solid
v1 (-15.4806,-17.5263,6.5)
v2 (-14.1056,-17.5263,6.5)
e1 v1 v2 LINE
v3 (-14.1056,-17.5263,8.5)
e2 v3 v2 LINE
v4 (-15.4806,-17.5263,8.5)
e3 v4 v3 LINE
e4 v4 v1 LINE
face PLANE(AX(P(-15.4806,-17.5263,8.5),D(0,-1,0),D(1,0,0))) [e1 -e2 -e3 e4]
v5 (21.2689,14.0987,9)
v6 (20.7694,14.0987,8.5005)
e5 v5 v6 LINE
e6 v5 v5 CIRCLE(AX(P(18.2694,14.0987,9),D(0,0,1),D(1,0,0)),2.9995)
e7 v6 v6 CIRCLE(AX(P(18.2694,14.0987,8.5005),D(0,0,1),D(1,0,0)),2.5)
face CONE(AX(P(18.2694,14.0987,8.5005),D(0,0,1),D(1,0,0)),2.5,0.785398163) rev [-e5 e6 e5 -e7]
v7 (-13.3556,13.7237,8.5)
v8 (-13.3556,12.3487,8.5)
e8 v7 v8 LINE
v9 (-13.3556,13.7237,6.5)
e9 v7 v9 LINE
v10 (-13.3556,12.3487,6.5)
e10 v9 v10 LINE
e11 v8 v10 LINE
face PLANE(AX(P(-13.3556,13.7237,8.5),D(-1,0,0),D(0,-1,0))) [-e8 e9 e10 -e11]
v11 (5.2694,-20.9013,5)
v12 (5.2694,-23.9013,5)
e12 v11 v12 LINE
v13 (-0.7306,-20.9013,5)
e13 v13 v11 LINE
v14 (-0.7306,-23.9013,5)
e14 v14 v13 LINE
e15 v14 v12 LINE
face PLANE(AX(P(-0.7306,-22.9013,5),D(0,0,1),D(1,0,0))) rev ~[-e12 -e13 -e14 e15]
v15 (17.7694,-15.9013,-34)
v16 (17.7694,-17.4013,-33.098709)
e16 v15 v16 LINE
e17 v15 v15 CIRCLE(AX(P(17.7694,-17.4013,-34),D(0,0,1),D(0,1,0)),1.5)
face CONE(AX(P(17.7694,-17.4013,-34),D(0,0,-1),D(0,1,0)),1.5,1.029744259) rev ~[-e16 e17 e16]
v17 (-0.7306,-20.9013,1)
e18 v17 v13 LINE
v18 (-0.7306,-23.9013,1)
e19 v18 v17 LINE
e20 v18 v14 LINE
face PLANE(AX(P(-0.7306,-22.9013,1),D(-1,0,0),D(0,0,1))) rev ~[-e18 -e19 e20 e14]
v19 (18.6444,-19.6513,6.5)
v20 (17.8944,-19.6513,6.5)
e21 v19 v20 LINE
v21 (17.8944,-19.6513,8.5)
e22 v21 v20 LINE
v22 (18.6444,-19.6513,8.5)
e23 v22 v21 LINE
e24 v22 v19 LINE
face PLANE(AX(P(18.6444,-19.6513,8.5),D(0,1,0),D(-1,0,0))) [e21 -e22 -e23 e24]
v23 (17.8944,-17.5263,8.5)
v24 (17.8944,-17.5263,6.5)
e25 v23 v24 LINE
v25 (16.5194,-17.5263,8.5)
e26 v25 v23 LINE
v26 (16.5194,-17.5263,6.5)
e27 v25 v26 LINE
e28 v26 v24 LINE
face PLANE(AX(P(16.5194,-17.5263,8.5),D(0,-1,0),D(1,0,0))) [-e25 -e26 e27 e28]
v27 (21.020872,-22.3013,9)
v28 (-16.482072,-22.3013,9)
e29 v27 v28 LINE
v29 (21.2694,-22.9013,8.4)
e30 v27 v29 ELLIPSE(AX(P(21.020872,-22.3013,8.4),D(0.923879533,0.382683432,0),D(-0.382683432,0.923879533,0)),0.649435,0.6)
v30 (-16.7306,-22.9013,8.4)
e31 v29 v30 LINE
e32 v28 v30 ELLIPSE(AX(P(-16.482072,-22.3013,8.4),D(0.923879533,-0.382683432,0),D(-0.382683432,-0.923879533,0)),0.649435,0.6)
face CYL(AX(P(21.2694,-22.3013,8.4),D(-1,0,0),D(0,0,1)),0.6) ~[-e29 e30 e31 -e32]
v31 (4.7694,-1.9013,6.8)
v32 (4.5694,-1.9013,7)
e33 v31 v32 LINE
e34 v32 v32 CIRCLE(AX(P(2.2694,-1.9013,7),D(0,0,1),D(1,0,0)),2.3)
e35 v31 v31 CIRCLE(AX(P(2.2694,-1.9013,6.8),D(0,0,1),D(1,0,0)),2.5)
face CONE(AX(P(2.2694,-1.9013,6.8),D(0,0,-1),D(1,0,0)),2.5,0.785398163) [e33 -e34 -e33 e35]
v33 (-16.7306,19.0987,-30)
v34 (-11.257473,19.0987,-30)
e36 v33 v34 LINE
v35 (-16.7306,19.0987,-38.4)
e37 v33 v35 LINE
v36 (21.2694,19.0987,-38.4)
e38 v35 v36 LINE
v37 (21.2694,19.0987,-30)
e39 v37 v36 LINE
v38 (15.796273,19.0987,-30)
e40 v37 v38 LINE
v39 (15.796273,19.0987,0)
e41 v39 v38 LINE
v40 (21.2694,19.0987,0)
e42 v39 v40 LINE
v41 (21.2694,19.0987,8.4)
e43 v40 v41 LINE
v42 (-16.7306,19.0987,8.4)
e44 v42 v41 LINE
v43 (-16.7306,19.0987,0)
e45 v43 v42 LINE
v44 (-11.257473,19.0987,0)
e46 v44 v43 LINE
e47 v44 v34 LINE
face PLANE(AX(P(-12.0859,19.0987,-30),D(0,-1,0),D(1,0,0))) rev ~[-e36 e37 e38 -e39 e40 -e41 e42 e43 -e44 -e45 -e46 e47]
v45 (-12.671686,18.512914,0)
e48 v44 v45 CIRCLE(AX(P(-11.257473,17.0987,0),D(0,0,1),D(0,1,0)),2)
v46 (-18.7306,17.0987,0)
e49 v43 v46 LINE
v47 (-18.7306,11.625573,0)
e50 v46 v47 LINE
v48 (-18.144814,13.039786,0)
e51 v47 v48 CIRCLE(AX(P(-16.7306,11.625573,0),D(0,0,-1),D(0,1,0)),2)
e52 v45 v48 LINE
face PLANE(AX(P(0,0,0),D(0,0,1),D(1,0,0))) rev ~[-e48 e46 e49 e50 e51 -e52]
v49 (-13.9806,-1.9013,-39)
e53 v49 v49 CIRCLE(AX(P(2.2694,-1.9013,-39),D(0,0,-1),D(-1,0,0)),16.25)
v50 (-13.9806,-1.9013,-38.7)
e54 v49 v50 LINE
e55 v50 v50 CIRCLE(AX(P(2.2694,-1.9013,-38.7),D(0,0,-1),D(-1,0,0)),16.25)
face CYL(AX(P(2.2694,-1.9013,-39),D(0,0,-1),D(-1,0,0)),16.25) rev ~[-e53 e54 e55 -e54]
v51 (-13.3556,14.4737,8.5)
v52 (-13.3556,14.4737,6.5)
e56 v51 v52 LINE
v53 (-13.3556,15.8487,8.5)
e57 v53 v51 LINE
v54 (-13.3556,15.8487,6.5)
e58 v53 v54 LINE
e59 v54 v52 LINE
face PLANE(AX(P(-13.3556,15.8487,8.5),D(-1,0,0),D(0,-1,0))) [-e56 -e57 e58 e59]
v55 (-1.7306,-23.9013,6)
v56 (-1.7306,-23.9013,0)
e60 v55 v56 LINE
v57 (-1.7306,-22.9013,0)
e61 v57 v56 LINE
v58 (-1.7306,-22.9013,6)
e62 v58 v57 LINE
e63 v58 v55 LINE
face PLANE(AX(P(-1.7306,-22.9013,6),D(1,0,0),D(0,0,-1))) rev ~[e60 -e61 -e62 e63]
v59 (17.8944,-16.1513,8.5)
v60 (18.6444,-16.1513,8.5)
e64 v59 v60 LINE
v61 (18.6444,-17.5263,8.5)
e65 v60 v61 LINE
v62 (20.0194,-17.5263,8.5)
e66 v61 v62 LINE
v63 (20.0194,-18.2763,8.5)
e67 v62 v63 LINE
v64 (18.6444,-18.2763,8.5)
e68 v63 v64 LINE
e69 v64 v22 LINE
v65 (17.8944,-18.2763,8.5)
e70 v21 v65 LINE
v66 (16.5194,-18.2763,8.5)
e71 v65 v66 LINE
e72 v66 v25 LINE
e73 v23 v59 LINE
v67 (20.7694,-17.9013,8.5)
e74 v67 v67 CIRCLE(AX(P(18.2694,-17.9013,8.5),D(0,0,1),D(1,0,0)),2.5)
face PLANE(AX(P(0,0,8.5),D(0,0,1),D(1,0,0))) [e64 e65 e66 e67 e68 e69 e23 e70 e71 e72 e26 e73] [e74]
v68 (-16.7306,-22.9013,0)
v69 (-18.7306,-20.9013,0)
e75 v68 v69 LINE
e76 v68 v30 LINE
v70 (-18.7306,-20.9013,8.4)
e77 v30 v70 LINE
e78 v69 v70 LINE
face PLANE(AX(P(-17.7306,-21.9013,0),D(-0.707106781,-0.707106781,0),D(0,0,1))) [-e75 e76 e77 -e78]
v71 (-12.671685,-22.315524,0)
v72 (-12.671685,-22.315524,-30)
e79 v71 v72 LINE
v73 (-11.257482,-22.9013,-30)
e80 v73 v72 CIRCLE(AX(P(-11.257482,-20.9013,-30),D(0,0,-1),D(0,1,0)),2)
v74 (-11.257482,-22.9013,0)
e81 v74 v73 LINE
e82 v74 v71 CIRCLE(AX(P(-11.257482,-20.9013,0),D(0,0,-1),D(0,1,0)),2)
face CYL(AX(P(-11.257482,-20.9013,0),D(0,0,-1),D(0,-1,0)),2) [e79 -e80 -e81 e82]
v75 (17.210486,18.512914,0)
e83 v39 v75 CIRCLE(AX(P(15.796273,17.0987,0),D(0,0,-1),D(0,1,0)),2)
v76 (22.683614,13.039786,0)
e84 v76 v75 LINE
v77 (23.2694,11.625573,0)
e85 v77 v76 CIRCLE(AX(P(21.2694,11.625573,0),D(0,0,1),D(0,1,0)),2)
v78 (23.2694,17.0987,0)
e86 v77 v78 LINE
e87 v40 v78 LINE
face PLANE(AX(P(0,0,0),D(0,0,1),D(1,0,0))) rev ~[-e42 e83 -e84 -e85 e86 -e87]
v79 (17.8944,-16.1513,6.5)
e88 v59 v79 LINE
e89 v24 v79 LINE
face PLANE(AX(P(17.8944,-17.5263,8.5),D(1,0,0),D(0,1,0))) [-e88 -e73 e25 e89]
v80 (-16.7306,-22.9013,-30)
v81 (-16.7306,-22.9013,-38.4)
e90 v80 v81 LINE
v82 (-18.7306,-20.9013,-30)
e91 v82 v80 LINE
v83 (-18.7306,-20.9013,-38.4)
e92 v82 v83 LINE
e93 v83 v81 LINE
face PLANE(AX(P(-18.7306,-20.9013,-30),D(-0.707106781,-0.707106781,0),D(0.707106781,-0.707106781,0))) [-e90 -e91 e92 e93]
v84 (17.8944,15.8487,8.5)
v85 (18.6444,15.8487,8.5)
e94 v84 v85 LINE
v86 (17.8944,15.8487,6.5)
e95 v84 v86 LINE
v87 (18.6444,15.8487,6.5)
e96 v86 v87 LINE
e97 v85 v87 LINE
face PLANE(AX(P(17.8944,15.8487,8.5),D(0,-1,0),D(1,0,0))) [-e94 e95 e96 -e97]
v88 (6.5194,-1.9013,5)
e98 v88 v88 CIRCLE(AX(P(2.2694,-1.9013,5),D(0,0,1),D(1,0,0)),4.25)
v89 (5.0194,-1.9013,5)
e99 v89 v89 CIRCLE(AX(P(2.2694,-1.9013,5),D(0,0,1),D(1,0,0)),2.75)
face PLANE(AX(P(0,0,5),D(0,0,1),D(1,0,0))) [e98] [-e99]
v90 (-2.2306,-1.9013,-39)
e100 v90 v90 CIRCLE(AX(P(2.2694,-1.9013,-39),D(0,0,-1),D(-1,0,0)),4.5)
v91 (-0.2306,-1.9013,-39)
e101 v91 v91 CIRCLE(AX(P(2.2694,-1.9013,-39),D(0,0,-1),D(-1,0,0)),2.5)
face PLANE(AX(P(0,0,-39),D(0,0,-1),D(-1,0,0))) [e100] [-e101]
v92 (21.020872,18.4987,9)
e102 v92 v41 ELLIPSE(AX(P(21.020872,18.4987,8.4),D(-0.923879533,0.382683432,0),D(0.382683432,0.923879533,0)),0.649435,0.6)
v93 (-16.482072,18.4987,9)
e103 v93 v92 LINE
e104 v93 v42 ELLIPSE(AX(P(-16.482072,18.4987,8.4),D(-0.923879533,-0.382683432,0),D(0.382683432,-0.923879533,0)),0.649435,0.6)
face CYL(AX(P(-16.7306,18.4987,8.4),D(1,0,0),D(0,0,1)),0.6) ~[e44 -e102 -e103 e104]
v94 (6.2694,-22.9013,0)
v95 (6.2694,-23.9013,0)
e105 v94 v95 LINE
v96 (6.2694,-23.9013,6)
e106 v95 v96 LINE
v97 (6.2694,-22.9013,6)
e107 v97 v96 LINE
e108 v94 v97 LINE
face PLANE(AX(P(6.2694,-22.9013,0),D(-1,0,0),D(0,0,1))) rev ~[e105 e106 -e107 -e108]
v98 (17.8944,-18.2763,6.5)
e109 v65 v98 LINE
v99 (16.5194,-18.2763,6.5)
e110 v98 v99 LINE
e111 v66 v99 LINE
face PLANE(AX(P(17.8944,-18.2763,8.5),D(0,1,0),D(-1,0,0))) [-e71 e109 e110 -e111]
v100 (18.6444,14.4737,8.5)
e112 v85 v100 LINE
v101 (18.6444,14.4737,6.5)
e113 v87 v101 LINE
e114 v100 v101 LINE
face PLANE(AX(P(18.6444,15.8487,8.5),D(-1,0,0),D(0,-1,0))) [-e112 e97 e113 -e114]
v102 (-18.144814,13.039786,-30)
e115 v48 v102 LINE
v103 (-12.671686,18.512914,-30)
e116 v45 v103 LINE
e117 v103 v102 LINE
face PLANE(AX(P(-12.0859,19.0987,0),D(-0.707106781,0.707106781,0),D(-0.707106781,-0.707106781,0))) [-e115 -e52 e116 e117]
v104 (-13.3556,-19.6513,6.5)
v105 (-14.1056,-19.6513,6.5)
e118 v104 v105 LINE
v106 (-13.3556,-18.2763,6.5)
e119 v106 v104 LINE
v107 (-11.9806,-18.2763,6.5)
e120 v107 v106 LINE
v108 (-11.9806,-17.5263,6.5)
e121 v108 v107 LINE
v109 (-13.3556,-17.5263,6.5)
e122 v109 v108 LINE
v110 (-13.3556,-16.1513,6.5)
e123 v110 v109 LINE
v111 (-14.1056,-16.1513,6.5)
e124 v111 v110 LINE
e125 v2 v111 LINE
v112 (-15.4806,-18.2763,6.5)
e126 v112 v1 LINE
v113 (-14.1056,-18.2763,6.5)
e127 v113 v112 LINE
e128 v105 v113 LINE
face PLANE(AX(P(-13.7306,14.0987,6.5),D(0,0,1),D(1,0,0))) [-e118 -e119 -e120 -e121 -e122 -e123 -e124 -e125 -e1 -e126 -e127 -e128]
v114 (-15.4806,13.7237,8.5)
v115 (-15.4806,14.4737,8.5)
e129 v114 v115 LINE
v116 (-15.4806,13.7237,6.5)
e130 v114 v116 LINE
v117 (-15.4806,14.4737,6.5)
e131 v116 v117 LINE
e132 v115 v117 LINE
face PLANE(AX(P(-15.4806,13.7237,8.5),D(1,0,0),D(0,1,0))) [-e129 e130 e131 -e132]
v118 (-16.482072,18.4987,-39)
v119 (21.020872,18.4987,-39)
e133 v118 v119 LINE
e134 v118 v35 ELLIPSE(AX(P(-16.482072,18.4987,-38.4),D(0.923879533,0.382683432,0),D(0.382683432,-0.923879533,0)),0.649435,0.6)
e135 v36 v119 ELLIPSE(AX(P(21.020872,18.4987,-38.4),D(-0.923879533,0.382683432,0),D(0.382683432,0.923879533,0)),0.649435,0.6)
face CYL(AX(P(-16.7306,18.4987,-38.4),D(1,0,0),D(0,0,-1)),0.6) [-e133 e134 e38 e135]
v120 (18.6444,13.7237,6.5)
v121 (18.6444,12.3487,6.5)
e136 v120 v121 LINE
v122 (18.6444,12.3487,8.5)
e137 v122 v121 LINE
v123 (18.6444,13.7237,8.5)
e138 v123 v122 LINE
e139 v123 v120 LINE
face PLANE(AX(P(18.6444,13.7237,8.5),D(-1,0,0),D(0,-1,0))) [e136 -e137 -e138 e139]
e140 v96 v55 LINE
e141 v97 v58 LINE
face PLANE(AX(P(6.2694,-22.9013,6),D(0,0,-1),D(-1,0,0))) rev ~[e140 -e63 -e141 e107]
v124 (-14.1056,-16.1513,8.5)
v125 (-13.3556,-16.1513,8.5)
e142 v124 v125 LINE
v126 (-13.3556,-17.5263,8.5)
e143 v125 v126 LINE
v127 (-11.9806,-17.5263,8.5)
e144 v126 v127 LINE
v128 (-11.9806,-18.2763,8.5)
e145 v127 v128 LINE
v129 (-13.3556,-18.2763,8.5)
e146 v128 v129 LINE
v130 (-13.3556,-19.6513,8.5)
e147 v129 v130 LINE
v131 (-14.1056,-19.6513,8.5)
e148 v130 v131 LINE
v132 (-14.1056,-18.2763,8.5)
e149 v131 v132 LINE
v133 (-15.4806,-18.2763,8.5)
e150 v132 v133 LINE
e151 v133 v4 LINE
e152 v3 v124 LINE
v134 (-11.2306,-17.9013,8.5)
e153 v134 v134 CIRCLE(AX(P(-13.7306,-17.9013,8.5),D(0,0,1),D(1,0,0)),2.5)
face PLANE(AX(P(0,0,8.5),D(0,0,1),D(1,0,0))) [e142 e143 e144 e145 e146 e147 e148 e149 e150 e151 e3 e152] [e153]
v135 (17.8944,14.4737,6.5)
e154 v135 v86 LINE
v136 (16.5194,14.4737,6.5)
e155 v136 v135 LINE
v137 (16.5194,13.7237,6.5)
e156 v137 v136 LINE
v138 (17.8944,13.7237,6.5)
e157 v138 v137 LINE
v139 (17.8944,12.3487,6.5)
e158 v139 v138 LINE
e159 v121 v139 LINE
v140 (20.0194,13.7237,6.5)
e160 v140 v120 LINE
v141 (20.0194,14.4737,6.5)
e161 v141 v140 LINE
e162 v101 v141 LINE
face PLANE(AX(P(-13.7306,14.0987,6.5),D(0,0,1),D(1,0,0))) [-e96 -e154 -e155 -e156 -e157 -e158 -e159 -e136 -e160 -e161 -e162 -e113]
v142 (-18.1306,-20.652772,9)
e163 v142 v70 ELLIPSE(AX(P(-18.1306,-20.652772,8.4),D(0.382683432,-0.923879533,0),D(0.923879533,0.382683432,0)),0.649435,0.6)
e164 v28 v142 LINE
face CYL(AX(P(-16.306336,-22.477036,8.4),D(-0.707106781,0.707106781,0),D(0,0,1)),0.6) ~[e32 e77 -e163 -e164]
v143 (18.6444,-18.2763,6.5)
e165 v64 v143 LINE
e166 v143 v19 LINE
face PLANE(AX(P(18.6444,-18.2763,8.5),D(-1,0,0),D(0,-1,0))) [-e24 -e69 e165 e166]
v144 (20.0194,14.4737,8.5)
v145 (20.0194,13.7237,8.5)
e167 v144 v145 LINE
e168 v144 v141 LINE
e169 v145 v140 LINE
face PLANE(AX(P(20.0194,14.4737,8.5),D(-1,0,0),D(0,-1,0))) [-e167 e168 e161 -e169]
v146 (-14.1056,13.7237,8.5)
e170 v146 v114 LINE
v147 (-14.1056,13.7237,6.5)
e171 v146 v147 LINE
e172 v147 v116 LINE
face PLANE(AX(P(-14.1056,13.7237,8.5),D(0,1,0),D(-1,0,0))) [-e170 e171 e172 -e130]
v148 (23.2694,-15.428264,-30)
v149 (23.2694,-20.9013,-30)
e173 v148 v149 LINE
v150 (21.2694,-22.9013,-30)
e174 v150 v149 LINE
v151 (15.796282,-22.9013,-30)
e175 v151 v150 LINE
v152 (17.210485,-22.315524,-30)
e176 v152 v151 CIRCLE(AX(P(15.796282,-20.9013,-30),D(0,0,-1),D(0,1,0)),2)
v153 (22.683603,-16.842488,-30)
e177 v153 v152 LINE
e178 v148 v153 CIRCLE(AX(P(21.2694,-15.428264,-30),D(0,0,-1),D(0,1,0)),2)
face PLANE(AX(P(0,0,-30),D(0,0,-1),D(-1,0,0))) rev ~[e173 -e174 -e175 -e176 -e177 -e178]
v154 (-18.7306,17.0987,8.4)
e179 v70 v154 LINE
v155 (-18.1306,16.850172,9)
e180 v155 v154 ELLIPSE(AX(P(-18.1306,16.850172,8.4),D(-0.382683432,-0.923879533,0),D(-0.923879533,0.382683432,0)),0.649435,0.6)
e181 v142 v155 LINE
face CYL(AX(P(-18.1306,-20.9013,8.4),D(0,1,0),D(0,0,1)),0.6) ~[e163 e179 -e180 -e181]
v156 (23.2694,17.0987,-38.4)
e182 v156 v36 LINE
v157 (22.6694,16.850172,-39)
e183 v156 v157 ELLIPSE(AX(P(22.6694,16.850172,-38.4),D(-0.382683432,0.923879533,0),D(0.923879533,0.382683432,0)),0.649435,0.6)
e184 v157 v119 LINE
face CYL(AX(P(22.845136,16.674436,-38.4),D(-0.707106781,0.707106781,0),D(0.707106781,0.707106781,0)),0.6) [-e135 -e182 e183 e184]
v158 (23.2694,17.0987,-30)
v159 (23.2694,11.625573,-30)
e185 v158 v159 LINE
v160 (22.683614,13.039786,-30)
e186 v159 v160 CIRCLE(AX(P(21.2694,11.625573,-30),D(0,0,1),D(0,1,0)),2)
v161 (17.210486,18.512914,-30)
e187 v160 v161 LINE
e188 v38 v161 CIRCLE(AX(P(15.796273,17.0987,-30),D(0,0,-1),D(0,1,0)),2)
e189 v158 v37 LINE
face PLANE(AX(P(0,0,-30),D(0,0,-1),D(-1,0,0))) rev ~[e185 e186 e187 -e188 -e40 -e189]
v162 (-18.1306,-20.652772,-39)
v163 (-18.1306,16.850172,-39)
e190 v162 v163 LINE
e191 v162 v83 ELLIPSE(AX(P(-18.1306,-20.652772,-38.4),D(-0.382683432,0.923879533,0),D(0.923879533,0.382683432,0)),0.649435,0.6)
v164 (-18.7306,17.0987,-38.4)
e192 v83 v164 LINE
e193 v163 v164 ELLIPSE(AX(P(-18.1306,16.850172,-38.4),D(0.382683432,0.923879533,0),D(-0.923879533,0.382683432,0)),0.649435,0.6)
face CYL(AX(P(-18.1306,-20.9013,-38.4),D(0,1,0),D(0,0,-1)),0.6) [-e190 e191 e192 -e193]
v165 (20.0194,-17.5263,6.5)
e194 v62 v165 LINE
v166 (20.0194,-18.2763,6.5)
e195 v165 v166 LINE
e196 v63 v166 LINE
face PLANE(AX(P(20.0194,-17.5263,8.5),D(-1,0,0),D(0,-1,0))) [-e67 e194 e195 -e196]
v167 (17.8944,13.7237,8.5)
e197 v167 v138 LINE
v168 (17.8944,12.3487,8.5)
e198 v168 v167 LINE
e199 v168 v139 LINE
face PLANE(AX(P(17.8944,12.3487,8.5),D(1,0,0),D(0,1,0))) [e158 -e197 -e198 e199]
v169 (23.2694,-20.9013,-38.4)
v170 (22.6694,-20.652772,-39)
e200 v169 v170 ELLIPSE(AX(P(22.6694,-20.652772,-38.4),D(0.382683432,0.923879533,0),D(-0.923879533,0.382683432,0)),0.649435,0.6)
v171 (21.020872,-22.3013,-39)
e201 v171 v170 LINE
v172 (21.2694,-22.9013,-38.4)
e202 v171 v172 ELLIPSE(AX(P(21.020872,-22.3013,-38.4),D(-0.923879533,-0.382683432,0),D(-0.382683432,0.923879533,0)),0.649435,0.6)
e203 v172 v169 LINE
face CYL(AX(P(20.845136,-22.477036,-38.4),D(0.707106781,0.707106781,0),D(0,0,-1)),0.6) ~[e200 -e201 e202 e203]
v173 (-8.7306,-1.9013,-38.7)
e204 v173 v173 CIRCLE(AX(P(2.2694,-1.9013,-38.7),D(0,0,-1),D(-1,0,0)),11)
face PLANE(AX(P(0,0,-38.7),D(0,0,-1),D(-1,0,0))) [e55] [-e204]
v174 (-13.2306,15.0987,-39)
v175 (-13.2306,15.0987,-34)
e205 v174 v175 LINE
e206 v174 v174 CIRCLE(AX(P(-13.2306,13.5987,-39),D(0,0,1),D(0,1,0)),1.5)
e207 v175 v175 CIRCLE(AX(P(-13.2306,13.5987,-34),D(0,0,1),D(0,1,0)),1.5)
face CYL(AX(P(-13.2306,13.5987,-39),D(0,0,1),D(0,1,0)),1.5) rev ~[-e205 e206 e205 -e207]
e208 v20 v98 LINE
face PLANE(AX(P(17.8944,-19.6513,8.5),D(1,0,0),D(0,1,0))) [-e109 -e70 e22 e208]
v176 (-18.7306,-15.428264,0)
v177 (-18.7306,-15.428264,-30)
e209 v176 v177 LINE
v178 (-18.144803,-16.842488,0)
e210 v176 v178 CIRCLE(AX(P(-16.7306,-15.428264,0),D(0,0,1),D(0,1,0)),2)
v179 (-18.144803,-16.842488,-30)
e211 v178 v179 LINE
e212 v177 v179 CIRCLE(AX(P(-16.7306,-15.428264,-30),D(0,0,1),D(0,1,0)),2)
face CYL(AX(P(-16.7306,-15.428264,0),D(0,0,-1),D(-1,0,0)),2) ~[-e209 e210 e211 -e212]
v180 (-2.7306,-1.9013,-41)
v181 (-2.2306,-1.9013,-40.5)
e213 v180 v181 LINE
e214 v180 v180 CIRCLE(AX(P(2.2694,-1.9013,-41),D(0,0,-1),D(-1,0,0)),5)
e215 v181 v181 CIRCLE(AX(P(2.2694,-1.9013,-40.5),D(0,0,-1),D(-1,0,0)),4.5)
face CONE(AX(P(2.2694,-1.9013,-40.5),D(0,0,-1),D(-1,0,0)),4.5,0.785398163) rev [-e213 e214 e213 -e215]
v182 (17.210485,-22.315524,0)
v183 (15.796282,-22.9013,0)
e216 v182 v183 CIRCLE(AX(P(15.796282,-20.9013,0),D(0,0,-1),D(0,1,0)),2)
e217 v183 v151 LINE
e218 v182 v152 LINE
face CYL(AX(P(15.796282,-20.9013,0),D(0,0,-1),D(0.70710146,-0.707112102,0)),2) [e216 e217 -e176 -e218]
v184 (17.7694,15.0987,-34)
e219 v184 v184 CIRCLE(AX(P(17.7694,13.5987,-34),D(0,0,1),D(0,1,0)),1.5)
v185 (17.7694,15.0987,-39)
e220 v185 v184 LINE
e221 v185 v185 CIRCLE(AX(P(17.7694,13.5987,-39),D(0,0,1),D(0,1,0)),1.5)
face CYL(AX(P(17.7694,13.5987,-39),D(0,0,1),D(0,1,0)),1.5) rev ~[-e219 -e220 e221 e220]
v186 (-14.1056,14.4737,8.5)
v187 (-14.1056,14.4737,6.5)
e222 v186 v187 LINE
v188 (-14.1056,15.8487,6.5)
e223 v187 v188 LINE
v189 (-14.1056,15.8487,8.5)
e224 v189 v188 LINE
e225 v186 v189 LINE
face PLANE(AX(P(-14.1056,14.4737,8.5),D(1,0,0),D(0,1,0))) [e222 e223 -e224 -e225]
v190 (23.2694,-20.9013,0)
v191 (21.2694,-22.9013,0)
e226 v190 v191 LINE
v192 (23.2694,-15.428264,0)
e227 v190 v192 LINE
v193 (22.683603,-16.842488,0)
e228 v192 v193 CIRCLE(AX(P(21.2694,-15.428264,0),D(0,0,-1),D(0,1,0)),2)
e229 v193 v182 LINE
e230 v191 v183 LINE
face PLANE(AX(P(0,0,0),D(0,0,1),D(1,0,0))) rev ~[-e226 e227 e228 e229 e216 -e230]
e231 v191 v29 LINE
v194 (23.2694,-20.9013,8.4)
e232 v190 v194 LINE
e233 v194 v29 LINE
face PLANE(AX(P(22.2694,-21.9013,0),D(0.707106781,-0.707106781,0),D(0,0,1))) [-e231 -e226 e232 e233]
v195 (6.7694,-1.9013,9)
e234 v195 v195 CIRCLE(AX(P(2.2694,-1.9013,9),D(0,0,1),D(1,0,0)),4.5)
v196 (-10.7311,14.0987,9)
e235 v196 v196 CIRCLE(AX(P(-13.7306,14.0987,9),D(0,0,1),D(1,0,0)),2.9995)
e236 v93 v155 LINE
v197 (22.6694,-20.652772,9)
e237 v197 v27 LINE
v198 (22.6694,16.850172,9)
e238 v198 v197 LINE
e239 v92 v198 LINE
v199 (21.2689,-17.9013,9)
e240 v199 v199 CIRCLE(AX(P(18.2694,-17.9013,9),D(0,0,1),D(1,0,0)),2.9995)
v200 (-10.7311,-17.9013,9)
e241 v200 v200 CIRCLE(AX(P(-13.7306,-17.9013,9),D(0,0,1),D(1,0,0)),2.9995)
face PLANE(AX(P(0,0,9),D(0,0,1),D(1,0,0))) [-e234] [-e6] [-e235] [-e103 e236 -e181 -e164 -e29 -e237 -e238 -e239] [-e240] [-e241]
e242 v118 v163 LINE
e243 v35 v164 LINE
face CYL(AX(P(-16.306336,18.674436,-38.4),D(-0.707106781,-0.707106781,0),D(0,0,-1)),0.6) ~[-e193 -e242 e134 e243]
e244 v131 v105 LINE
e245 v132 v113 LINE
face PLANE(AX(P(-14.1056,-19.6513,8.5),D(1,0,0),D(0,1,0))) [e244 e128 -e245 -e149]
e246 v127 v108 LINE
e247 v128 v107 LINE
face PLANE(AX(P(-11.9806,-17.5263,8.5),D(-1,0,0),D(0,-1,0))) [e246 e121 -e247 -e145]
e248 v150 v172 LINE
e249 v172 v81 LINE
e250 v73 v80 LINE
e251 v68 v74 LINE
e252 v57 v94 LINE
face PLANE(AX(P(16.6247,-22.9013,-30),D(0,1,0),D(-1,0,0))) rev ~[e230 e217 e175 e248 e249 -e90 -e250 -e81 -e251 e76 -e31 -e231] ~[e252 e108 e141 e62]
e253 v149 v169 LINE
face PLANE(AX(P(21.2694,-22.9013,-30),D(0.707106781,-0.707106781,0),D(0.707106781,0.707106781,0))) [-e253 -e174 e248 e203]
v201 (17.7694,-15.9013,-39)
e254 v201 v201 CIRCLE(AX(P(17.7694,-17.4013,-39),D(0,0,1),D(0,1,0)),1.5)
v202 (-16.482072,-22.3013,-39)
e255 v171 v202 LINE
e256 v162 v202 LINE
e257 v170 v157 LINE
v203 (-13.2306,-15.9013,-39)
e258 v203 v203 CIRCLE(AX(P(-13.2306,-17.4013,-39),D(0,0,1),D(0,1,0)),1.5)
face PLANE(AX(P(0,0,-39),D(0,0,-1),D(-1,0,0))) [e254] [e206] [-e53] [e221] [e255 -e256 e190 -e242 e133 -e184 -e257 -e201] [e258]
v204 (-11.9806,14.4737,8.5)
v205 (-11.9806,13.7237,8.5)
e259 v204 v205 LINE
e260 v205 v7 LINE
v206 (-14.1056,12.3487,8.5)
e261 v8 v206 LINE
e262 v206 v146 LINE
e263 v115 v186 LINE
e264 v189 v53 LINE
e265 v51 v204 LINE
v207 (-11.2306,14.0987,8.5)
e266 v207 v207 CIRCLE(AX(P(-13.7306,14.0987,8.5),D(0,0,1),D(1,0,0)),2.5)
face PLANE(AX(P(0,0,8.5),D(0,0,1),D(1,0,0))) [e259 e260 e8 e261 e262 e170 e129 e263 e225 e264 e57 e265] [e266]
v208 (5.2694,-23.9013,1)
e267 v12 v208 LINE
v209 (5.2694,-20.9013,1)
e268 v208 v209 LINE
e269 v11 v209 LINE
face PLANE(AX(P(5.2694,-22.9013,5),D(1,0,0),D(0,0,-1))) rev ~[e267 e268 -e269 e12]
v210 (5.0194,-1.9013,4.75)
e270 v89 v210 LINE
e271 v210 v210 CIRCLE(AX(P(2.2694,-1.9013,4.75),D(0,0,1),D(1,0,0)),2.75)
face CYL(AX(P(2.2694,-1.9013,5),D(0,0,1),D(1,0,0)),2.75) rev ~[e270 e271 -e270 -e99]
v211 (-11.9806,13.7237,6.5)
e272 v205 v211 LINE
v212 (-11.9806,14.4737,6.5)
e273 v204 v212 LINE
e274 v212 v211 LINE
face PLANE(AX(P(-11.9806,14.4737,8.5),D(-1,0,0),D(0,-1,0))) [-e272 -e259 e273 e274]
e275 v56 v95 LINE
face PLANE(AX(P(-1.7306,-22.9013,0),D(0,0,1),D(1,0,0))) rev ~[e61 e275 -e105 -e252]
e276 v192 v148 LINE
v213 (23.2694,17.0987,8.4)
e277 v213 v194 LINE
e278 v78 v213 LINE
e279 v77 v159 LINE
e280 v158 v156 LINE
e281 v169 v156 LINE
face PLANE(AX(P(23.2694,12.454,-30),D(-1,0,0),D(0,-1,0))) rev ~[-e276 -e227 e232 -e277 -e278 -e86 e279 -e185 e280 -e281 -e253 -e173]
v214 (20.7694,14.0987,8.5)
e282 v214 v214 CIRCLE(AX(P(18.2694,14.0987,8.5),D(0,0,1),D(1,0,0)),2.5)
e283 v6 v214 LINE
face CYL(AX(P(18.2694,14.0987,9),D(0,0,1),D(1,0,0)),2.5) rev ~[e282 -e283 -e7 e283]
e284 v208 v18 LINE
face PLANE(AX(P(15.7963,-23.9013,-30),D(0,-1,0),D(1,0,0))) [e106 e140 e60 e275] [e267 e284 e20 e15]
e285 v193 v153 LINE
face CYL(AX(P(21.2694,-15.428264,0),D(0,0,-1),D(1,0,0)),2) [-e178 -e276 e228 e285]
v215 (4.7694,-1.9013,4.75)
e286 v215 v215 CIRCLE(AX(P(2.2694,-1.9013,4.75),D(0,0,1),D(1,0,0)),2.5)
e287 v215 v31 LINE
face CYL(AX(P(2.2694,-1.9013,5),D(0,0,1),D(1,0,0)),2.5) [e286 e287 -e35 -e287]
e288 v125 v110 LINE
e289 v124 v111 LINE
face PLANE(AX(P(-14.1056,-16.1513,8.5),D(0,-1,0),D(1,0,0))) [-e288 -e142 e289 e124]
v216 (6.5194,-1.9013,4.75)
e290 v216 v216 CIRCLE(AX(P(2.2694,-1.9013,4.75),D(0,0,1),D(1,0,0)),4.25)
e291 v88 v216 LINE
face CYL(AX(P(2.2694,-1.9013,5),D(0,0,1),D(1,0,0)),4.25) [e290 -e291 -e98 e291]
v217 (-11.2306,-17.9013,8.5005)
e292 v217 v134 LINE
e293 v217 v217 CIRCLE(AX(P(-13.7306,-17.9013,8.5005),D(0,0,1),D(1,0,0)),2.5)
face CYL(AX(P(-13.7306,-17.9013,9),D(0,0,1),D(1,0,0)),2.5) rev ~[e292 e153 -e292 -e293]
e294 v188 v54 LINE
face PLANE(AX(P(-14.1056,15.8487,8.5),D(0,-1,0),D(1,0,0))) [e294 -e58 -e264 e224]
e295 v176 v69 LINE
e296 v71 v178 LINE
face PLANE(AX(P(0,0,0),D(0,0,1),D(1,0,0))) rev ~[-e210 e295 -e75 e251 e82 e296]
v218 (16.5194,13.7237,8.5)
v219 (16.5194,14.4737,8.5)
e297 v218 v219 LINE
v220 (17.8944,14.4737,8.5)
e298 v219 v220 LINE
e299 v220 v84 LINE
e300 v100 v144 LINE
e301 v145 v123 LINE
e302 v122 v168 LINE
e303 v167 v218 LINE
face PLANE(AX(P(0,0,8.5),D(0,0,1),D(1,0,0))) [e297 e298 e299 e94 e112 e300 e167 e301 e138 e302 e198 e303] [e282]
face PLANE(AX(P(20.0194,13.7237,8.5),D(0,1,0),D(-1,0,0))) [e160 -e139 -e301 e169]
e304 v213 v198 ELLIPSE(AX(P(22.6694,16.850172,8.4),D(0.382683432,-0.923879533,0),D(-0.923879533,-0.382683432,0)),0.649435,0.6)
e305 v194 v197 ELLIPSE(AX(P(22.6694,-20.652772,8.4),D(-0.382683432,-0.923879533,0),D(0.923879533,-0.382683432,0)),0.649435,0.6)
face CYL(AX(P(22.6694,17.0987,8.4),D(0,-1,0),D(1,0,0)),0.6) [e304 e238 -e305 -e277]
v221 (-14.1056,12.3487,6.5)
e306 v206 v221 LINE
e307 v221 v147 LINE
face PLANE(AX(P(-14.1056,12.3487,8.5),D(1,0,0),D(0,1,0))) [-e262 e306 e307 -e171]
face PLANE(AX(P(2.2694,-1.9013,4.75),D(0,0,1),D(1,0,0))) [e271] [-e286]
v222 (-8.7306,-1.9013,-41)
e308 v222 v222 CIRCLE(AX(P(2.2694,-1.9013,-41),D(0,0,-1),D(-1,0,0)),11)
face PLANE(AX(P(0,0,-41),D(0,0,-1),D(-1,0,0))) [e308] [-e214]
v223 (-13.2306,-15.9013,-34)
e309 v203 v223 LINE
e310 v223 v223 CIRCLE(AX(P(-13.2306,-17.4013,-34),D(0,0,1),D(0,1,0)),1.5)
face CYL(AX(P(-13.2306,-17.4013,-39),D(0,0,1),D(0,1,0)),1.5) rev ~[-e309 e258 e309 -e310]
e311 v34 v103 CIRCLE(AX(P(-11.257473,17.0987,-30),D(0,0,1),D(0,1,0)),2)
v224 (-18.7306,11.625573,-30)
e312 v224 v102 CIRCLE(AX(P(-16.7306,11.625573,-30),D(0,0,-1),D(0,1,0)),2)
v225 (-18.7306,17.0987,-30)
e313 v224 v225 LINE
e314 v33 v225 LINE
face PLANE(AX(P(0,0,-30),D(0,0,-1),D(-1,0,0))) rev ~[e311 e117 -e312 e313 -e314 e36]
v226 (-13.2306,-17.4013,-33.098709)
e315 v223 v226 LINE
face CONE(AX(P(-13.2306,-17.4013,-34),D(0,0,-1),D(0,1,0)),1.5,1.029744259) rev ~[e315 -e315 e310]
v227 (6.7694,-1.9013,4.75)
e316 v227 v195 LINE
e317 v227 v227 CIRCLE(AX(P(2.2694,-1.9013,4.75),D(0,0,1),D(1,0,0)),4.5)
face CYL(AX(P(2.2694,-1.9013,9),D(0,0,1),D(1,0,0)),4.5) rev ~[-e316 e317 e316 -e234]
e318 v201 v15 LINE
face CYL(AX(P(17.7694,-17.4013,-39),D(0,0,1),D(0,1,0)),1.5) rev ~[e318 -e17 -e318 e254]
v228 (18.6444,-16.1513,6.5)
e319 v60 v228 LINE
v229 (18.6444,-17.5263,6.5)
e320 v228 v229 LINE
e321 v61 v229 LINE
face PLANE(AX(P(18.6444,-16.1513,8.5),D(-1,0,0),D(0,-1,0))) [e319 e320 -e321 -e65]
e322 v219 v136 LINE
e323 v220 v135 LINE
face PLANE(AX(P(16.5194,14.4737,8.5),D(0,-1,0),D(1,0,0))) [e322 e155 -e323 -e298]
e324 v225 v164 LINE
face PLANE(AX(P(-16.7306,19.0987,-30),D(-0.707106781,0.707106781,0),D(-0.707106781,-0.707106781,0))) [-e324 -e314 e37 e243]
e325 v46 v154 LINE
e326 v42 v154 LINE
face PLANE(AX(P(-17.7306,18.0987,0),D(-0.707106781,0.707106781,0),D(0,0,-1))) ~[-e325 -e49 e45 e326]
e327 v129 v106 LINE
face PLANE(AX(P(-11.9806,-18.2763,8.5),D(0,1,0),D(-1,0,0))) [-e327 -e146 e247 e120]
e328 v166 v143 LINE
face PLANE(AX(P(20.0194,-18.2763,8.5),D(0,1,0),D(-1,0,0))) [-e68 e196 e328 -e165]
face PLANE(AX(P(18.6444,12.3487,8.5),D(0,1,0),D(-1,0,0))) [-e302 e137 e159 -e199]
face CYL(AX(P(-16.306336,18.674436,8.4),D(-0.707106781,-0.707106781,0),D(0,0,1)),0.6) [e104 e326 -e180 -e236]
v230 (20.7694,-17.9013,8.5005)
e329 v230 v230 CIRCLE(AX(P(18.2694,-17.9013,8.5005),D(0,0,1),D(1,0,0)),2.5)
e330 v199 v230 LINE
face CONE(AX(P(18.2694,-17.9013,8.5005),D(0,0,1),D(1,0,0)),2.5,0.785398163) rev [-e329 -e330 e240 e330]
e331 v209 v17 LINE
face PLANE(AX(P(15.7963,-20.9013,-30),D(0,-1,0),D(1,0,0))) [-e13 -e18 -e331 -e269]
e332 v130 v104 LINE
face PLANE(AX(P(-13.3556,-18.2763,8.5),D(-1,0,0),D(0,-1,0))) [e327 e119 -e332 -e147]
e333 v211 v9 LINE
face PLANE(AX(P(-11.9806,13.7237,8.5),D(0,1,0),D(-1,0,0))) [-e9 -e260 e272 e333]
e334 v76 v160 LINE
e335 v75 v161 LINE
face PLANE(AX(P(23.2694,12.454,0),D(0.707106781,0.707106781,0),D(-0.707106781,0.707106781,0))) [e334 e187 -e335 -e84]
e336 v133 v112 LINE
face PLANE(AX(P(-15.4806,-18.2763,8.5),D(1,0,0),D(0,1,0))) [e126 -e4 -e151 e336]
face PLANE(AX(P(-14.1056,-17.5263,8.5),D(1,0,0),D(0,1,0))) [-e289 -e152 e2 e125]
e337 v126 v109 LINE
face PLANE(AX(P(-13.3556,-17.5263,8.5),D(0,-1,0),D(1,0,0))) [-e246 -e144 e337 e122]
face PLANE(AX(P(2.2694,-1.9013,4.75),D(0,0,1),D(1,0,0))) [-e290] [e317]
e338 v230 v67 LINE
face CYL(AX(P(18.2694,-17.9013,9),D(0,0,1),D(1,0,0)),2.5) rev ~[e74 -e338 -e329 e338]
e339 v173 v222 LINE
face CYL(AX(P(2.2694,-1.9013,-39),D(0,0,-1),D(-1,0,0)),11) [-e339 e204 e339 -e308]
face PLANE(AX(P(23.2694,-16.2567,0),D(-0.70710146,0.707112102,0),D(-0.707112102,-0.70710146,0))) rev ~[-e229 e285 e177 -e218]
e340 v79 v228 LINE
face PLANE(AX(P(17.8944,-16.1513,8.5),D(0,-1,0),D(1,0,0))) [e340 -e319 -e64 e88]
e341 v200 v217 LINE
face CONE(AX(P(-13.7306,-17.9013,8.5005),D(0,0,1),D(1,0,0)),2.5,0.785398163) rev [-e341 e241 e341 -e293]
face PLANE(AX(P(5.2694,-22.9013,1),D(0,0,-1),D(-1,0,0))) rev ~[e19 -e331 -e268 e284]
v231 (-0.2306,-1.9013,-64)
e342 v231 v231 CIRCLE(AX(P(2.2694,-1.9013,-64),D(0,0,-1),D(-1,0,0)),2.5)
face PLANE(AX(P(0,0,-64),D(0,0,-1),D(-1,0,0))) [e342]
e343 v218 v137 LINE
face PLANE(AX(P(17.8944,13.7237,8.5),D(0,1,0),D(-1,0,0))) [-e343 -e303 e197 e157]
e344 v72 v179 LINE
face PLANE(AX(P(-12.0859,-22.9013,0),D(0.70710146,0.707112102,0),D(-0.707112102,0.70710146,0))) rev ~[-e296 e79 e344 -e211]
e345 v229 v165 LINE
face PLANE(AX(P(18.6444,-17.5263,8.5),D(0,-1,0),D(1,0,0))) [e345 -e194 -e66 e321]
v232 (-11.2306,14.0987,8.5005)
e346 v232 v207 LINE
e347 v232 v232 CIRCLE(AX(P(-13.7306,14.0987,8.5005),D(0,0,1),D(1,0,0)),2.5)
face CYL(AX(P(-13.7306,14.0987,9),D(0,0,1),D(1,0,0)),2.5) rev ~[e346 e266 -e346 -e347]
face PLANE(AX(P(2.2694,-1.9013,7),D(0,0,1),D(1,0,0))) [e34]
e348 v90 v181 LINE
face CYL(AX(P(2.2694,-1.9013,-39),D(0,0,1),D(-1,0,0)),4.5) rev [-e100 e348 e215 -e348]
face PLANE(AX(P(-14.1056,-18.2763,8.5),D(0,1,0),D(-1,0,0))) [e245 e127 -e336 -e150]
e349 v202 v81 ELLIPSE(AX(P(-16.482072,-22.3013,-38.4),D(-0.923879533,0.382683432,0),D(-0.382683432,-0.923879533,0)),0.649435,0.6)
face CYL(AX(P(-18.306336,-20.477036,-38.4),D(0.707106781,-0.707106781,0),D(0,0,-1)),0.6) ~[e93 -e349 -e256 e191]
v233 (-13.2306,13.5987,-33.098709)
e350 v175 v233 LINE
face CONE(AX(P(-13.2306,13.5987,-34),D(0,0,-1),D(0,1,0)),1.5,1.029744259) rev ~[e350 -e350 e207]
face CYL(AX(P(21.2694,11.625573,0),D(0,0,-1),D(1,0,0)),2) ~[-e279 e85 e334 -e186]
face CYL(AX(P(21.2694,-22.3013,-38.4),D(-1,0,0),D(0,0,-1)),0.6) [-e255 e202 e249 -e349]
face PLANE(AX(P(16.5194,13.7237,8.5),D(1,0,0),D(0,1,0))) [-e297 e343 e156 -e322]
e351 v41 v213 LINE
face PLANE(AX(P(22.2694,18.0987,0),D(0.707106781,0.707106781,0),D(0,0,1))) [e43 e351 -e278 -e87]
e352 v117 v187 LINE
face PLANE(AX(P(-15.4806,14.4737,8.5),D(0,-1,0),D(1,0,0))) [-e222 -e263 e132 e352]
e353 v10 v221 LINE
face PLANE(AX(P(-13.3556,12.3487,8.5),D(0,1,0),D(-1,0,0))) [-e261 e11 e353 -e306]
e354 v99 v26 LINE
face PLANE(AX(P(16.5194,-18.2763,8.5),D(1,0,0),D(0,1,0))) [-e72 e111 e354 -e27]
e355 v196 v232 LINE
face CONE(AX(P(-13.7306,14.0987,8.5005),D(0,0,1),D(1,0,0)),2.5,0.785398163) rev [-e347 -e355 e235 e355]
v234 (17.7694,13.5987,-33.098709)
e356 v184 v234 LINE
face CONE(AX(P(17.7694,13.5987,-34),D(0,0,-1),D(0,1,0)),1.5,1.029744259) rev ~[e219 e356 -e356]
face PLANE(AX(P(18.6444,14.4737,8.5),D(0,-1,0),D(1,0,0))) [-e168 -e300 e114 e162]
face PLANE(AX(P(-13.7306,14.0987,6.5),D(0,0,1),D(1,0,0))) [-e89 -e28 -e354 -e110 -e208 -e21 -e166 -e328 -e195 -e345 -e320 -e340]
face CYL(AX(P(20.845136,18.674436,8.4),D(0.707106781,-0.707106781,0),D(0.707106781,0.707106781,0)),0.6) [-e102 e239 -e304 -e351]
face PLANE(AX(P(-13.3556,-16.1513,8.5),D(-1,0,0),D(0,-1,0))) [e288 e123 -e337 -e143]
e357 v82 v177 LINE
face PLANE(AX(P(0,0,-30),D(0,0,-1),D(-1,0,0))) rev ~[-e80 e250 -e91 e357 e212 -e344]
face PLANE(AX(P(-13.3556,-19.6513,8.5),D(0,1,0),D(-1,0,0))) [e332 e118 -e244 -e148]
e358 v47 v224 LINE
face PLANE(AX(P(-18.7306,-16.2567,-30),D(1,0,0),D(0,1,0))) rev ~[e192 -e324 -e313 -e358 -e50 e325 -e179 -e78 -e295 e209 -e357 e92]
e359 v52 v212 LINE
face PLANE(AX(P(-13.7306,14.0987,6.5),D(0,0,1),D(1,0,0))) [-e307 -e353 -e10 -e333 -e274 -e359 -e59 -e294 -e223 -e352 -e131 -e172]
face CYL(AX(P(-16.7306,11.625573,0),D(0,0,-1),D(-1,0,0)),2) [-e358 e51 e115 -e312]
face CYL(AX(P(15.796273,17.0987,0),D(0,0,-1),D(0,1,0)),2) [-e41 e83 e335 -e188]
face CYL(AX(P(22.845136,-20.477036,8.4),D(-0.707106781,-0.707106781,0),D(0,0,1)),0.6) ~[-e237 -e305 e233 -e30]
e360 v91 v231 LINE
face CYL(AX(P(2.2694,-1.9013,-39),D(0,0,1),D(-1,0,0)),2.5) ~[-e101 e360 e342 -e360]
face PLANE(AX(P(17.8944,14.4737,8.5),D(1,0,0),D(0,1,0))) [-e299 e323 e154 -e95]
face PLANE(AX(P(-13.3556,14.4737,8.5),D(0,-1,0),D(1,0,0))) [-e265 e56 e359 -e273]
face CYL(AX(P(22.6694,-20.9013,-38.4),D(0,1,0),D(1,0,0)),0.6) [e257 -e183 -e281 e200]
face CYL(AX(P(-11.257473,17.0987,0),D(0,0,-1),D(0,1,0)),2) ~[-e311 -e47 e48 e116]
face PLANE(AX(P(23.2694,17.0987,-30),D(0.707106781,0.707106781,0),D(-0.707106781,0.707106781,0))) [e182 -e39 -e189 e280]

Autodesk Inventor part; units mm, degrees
ref_plane "YZ Plane" through (0, 0, 0) normal (1, 0, 0) x (0, 1, 0)
ref_plane "XZ Plane" through (0, 0, 0) normal (0, 1, 0) x (-1, 0, 0)
ref_plane "XY Plane" through (0, 0, 0) normal (0, 0, 1) x (1, 0, 0)
sketch "Szkic1" plane through (0, 0, 0) normal (0, 0, 1) x (1, 0, 0)
  line L0 (-18.7306, 19.0987) -> (23.2694, 19.0987)
  line L1 (23.2694, 19.0987) -> (23.2694, -22.9013)
  line L2 (23.2694, -22.9013) -> (-18.7306, -22.9013)
  line L3 (-18.7306, -22.9013) -> (-18.7306, 19.0987)
  point P0 (0, 0)
  dimension "d0" = 42
  dimension "d1" = 42
extrude "Wyciągnięcie proste1" add sketch "Szkic1" along normal blind 9
chamfer "Faza1" distance 2 angle 45 4 edges at (23.2694, 19.0987, 4.5) (-18.7306, 19.0987, 4.5) (-18.7306, -22.9013, 4.5) (23.2694, -22.9013, 4.5)
sketch "Szkic2" plane through (0, 0, 0) normal (0, 0, -1) x (-1, 0, 0)
  line L0 (-21.2694, -22.9013) -> (-23.2694, -20.9013) projected
  line L1 (-21.2694, -22.9013) -> (16.7306, -22.9013) projected
  line L2 (18.7306, -20.9013) -> (16.7306, -22.9013) projected
  line L3 (18.7306, -20.9013) -> (18.7306, 17.0987) projected
  line L4 (16.7306, 19.0987) -> (18.7306, 17.0987) projected
  line L5 (16.7306, 19.0987) -> (-21.2694, 19.0987) projected
  line L6 (-23.2694, 17.0987) -> (-21.2694, 19.0987) projected
  line L7 (-23.2694, 17.0987) -> (-23.2694, -20.9013) projected
  line L8 (12.0859, 19.0987) -> (-16.6247, 19.0987)
  line L9 (-23.2694, -16.2567) -> (-16.6247, -22.9013)
  line L10 (12.0859, -22.9013) -> (18.7306, -16.2567)
  line L11 (-23.2694, 12.454) -> (-16.6247, 19.0987)
  line L12 (12.0859, 19.0987) -> (18.7306, 12.454)
  line L13 (-16.6247, 19.0987) -> (12.0859, 19.0987)
  line L14 (-23.2694, 17.0987) -> (-23.2694, -20.9013) projected
  line L15 (-23.2694, 12.454) -> (-23.2694, -16.2567)
  line L16 (-23.2694, -16.2567) -> (-23.2694, 12.454)
  line L17 (-16.6247, -22.9013) -> (12.0859, -22.9013)
  line L18 (-16.6247, -22.9013) -> (12.0859, -22.9013)
  line L19 (18.7306, -16.2567) -> (18.7306, 12.454)
  point P0 (0, 0)
  point P1 (-2.2694, -1.9013)
  dimension "d9" = 21
  dimension "d10" = 42
  dimension "d11" = 21
  dimension "d12" = 25
  dimension "d13" = 25
  dimension "d14" = 25
  dimension "d15" = 25
extrude "Wyciągnięcie proste3" add sketch "Szkic2" along normal blind 30 contours L9 L7 L11 L5 L12 L3 L10 L1
sketch "Szkic3" plane through (0, 0, -30) normal (0, 0, -1) x (-1, 0, 0)
  line L0 (-23.2694, -16.2567) -> (-16.6247, -22.9013) projected
  line L1 (-16.6247, -22.9013) -> (12.0859, -22.9013) projected
  line L2 (12.0859, -22.9013) -> (18.7306, -16.2567) projected
  line L3 (18.7306, -16.2567) -> (18.7306, 12.454) projected
  line L4 (18.7306, 12.454) -> (12.0859, 19.0987) projected
  line L5 (12.0859, 19.0987) -> (-16.6247, 19.0987) projected
  line L6 (-16.6247, 19.0987) -> (-23.2694, 12.454) projected
  line L7 (-23.2694, 12.454) -> (-23.2694, -16.2567) projected
  line L8 (-23.2694, 12.454) -> (-16.6247, 19.0987) projected
  line L9 (-16.6247, 19.0987) -> (-21.2694, 19.0987) projected
  line L10 (-23.2694, 17.0987) -> (-21.2694, 19.0987) projected
  line L11 (-23.2694, 17.0987) -> (-23.2694, 12.454) projected
  line L12 (-16.6247, -22.9013) -> (-23.2694, -16.2567) projected
  line L13 (-23.2694, -16.2567) -> (-23.2694, -20.9013) projected
  line L14 (-21.2694, -22.9013) -> (-23.2694, -20.9013) projected
  line L15 (-21.2694, -22.9013) -> (-16.6247, -22.9013) projected
  line L16 (18.7306, -16.2567) -> (12.0859, -22.9013) projected
  line L17 (12.0859, -22.9013) -> (16.7306, -22.9013) projected
  line L18 (18.7306, -20.9013) -> (16.7306, -22.9013) projected
  line L19 (18.7306, -20.9013) -> (18.7306, -16.2567) projected
  line L20 (12.0859, 19.0987) -> (18.7306, 12.454) projected
  line L21 (18.7306, 12.454) -> (18.7306, 17.0987) projected
  line L22 (16.7306, 19.0987) -> (18.7306, 17.0987) projected
  line L23 (16.7306, 19.0987) -> (12.0859, 19.0987) projected
  line L24 (-23.2694, 19.0987) -> (-23.2694, -22.9013)
  line L25 (-23.2694, -22.9013) -> (18.7306, -22.9013)
  line L26 (18.7306, -22.9013) -> (18.7306, 19.0987)
  line L27 (18.7306, 19.0987) -> (-23.2694, 19.0987)
  point P0 (0, 0)
extrude "Wyciągnięcie proste4" add sketch "Szkic3" along normal blind 9 contours L7 L6 L5 L4 L3 L2 L1 L0 | L0 L15 L14 L13 | L11 L10 L9 L6 | L2 L19 L18 L17 | L23 L22 L21 L4
fillet "Zaokrąglenie1" radius 2 8 edges at (-18.7306, 12.454, -15) (-12.0859, 19.0987, -15) (16.6247, 19.0987, -15) (23.2694, 12.454, -15) (-18.7306, -16.2567, -15) (-12.0859, -22.9013, -15) (16.6247, -22.9013, -15) (23.2694, -16.2567, -15)
sketch "Szkic4" plane through (0, 0, 9) normal (0, 0, 1) x (1, 0, 0)
  line L0 (-18.7306, 17.0987) -> (-18.7306, -20.9013) projected
  line L1 (23.2694, -20.9013) -> (23.2694, 17.0987) projected
  line L2 (21.2694, 19.0987) -> (-16.7306, 19.0987) projected
  circle A0 centre (2.2694, -1.9013) radius 4.5
  line L3 (23.2694, 19.0987) -> (-18.7306, 19.0987)
  line L4 (23.2694, -22.9013) -> (-18.7306, -22.9013)
  line L5 (21.2694, -22.9013) -> (-16.7306, -22.9013) projected
  line L6 (-18.7306, -22.9013) -> (-18.7306, 19.0987)
  line L7 (23.2694, 19.0987) -> (23.2694, -22.9013)
  circle A1 centre (-13.7306, 14.0987) radius 2.5
  circle A2 centre (-13.7306, -17.9013) radius 2.5
  circle A3 centre (18.2694, -17.9013) radius 2.5
  circle A4 centre (18.2694, 14.0987) radius 2.5
  circle A5 centre (2.2694, -1.9013) radius 2.5
  circle A6 centre (2.2694, -1.9013) radius 4.25
  circle A7 centre (2.2694, -1.9013) radius 2.75
  point P0 (0, 0)
  dimension "d21" = 42
  dimension "d22" = 21
  dimension "d23" = 21
  dimension "d24" = 9
  dimension "d56" = 5
  dimension "d57" = 5
  dimension "d58" = 5
  dimension "d59" = 5
  dimension "d60" = 5
  dimension "d61" = 5
  dimension "d62" = 5
  dimension "d63" = 5
  dimension "d64" = 5
  dimension "d65" = 5
  dimension "d66" = 5
  dimension "d67" = 5
  dimension "d68" = 5
  dimension "d69" = 8.5
  dimension "d70" = 5.5
extrude "Wyciągnięcie proste5" cut sketch "Szkic4" against normal blind 4 contours A0 | A5 | A6 | A7
fillet "Zaokrąglenie2" radius 0.6 16 edges at (23.2694, -1.9013, 9) (2.2694, -22.9013, 9) (-18.7306, -1.9013, 9) (2.2694, 19.0987, 9) (22.2694, -21.9013, 9) (-17.7306, -21.9013, 9) (-17.7306, 18.0987, 9) (22.2694, 18.0987, 9) (23.2694, -1.9013, -39) (22.2694, 18.0987, -39) (2.2694, 19.0987, -39) (-17.7306, 18.0987, -39) (-18.7306, -1.9013, -39) (-17.7306, -21.9013, -39) (2.2694, -22.9013, -39) (22.2694, -21.9013, -39)
sketch "Szkic5" plane through (0, 0, -39) normal (0, 0, -1) x (-1, 0, 0)
  circle A0 centre (-2.2694, -1.9013) radius 4.5 projected
  line L0 (-21.2694, -22.9013) -> (16.7306, -22.9013) projected
  line L1 (16.7306, -22.9013) -> (18.7306, -20.9013) projected
  line L2 (18.7306, -20.9013) -> (18.7306, 17.0987) projected
  line L3 (18.7306, 17.0987) -> (16.7306, 19.0987) projected
  line L4 (16.7306, 19.0987) -> (-21.2694, 19.0987) projected
  line L5 (-21.2694, 19.0987) -> (-23.2694, 17.0987) projected
  line L6 (-23.2694, 17.0987) -> (-23.2694, -20.9013) projected
  line L7 (-23.2694, -20.9013) -> (-21.2694, -22.9013) projected
  line L8 (18.7306, -22.9013) -> (18.7306, 19.0987)
  line L9 (18.7306, 19.0987) -> (-23.2694, 19.0987)
  line L10 (-23.2694, 19.0987) -> (-23.2694, -22.9013)
  line L11 (-23.2694, -22.9013) -> (18.7306, -22.9013)
  circle A1 centre (-2.2694, -1.9013) radius 11
  circle A2 centre (-2.2694, -1.9013) radius 16.25
  circle A3 centre (-2.2694, -1.9013) radius 2.5
  point P0 (0, 0)
  point P1 (13.2306, -17.4013)
  point P2 (13.2306, 13.5987)
  point P3 (-17.7694, 13.5987)
  point P4 (-17.7694, -17.4013)
  dimension "d28" = 42
  dimension "d29" = 5.5
  dimension "d30" = 5.5
  dimension "d31" = 5.5
  dimension "d32" = 5.5
  dimension "d33" = 5.5
  dimension "d34" = 5.5
  dimension "d35" = 5.5
  dimension "d36" = 5.5
  dimension "d37" = 22
  dimension "d38" = 32.5
  dimension "d53" = 5
  dimension "d117" = 21
  dimension "d118" = 21
extrude "Wyciągnięcie proste6" cut sketch "Szkic5" against normal blind 0.3 contours A2
extrude "Wyciągnięcie proste7" add sketch "Szkic5" along normal blind 2 contours A1
chamfer "Faza2" distance 0.5 angle 45 1 edges at (6.7694, -1.9013, -41)
hole "Otwór1" at (-13.2306, -17.4013, -39) at (-13.2306, 13.5987, -39) at (17.7694, 13.5987, -39) at (17.7694, -17.4013, -39) direction (0, 0, 1) diameter 3 depth 5 tip angle 118
extrude "Wyciągnięcie proste8" add sketch "Szkic5" along normal blind 25 contours A3
extrude "Wyciągnięcie proste9" cut sketch "Szkic4" against normal blind 0.5 contours A1 | A2 | A3 | A4
chamfer "Faza3" distance 0.5 angle 45 4 edges at (-16.2306, 14.0987, 9) (15.7694, 14.0987, 9) (15.7694, -17.9013, 9) (-16.2306, -17.9013, 9)
sketch "Szkic6" plane through (2.2694, -1.9013, 5) normal (0, 0, 1) x (1, 0, 0)
  circle A0 centre (0, 0) radius 4.5 projected
  circle A1 centre (0, 0) radius 2.5 projected
  circle A2 centre (0, 0) radius 4.25
  circle A3 centre (0, 0) radius 2.75
  point P0 (-2.2694, 1.9013)
  dimension "d76" = 0.25
  dimension "d77" = 0.25
extrude "Wyciągnięcie proste10" add sketch "Szkic6" along normal blind 2 contours A1
extrude "Wyciągnięcie proste11" cut sketch "Szkic6" against normal blind 0.25
chamfer "Faza4" distance 0.2 angle 45 1 edges at (-0.2306, -1.9013, 7)
sketch "Szkic7" plane through (-13.7306, 14.0987, 8.5) normal (0, 0, 1) x (1, 0, 0)
  circle A0 centre (0, 0) radius 2.5 projected
  circle A1 centre (32, 0) radius 2.5 projected
  circle A2 centre (32, -32) radius 2.5 projected
  circle A3 centre (0, -32) radius 2.5 projected
  line L0 (-0.375, 1.75) -> (0.375, 1.75)
  line L1 (0.375, -1.75) -> (-0.375, -1.75)
  line L2 (1.75, 0.375) -> (1.75, -0.375)
  line L3 (-1.75, -0.375) -> (-1.75, 0.375)
  line L4 (-1.75, 0.375) -> (-0.375, 0.375)
  line L5 (0.375, 0.375) -> (1.75, 0.375)
  line L6 (-0.375, -1.75) -> (-0.375, -0.375)
  line L7 (-0.375, 0.375) -> (-0.375, 1.75)
  line L8 (1.75, -0.375) -> (0.375, -0.375)
  line L9 (-0.375, -0.375) -> (-1.75, -0.375)
  line L10 (0.375, 1.75) -> (0.375, 0.375)
  line L11 (0.375, -0.375) -> (0.375, -1.75)
  line L12 (31.625, 1.75) -> (32.375, 1.75)
  line L13 (32.375, -1.75) -> (31.625, -1.75)
  line L14 (33.75, 0.375) -> (33.75, -0.375)
  line L15 (30.25, -0.375) -> (30.25, 0.375)
  line L16 (30.25, 0.375) -> (31.625, 0.375)
  line L17 (32.375, 0.375) -> (33.75, 0.375)
  line L18 (31.625, -1.75) -> (31.625, -0.375)
  line L19 (31.625, 0.375) -> (31.625, 1.75)
  line L20 (33.75, -0.375) -> (32.375, -0.375)
  line L21 (31.625, -0.375) -> (30.25, -0.375)
  line L22 (32.375, 1.75) -> (32.375, 0.375)
  line L23 (32.375, -0.375) -> (32.375, -1.75)
  line L24 (-0.375, -30.25) -> (0.375, -30.25)
  line L25 (0.375, -33.75) -> (-0.375, -33.75)
  line L26 (1.75, -31.625) -> (1.75, -32.375)
  line L27 (-1.75, -32.375) -> (-1.75, -31.625)
  line L28 (-1.75, -31.625) -> (-0.375, -31.625)
  line L29 (0.375, -31.625) -> (1.75, -31.625)
  line L30 (-0.375, -33.75) -> (-0.375, -32.375)
  line L31 (-0.375, -31.625) -> (-0.375, -30.25)
  line L32 (1.75, -32.375) -> (0.375, -32.375)
  line L33 (-0.375, -32.375) -> (-1.75, -32.375)
  line L34 (0.375, -30.25) -> (0.375, -31.625)
  line L35 (0.375, -32.375) -> (0.375, -33.75)
  line L36 (31.625, -30.25) -> (32.375, -30.25)
  line L37 (32.375, -33.75) -> (31.625, -33.75)
  line L38 (33.75, -31.625) -> (33.75, -32.375)
  line L39 (30.25, -32.375) -> (30.25, -31.625)
  line L40 (30.25, -31.625) -> (31.625, -31.625)
  line L41 (32.375, -31.625) -> (33.75, -31.625)
  line L42 (31.625, -33.75) -> (31.625, -32.375)
  line L43 (31.625, -31.625) -> (31.625, -30.25)
  line L44 (33.75, -32.375) -> (32.375, -32.375)
  line L45 (31.625, -32.375) -> (30.25, -32.375)
  line L46 (32.375, -30.25) -> (32.375, -31.625)
  line L47 (32.375, -32.375) -> (32.375, -33.75)
  point P0 (13.7306, -14.0987)
  dimension "d85" = 0.75
  dimension "d86" = 3.5
  dimension "d88" = 1.75
  dimension "d89" = 3.5
  dimension "d90" = 0.75
  dimension "d91" = 1.75
  dimension "d93" = 0.75
  dimension "d94" = 3.5
  dimension "d95" = 3.5
  dimension "d96" = 0.75
  dimension "d97" = 0.75
  dimension "d98" = 3.5
  dimension "d99" = 3.5
  dimension "d100" = 0.75
  dimension "d101" = 0.75
  dimension "d102" = 3.5
  dimension "d103" = 3.5
  dimension "d104" = 0.75
extrude "Wyciągnięcie proste12" cut sketch "Szkic7" against normal blind 2 contours L0 L10 L5 L2 L8 L11 L1 L6 L9 L3 L4 L7 | L12 L22 L17 L14 L20 L23 L13 L18 L21 L15 L16 L19 | L24 L34 L29 L26 L32 L35 L25 L30 L33 L27 L28 L31 | L36 L46 L41 L38 L44 L47 L37 L42 L45 L39 L40 L43
sketch "Szkic8" plane through (15.7963, -22.9013, -30) normal (0, -1, 0) x (1, 0, 0)
  line L0 (5.4731, -8.4) -> (-32.5269, -8.4) projected
  line L1 (5.4731, 0) -> (5.4731, -8.4) projected
  line L2 (0, 0) -> (5.4731, 0) projected
  line L3 (0, 30) -> (0, 0) projected
  line L4 (5.4731, 30) -> (0, 30) projected
  line L5 (5.4731, 38.4) -> (5.4731, 30) projected
  line L6 (-32.5269, 38.4) -> (5.4731, 38.4) projected
  line L7 (-32.5269, 30) -> (-32.5269, 38.4) projected
  line L8 (-27.0538, 30) -> (-32.5269, 30) projected
  line L9 (-27.0538, 0) -> (-27.0538, 30) projected
  line L10 (-32.5269, 0) -> (-27.0538, 0) projected
  line L11 (-32.5269, 0) -> (-32.5269, -8.4) projected
  line L12 (0, 30) -> (5.4731, 30) projected
  line L13 (-27.0538, 30) -> (0, 30)
  line L14 (-17.5269, 30) -> (-9.5269, 30)
  line L15 (-9.5269, 30) -> (-9.5269, 36)
  line L16 (-9.5269, 36) -> (-17.5269, 36)
  line L17 (-17.5269, 36) -> (-17.5269, 30)
  line L18 (-10.5269, 35) -> (-10.5269, 31)
  line L19 (-10.5269, 31) -> (-16.5269, 31)
  line L20 (-16.5269, 31) -> (-16.5269, 35)
  line L21 (-16.5269, 35) -> (-10.5269, 35)
  point P0 (-15.7963, 30)
  dimension "d107" = 8
  dimension "d108" = 6
  dimension "d109" = 38
  dimension "d110" = 15
  dimension "d111" = 1
extrude "Wyciągnięcie proste13" add sketch "Szkic8" along normal blind 1 contours L13 L17 L16 L15
extrude "Wyciągnięcie proste14" cut sketch "Szkic8" against normal blind 2 contours L18 L19 L20 L21
equation "\"d13\" = d12"
equation "\"d14\" = d12"
equation "\"d15\" = d12"
equation "\"d22\" = 0.5 * d21"
equation "\"d23\" = 0.5 * d21"
equation "\"d57\" = d56"
equation "\"d58\" = d56"
equation "\"d59\" = d56"
equation "\"d60\" = d56"
equation "\"d61\" = d56"
equation "\"d62\" = d56"
equation "\"d63\" = d56"
equation "\"d30\" = d29"
equation "\"d31\" = d29"
equation "\"d32\" = d29"
equation "\"d33\" = d31"
equation "\"d34\" = d29"
equation "\"d35\" = d29"
equation "\"d36\" = d29"
equation "\"d88\" = 0.5 * d86"
equation "\"d91\" = d88"
equation "\"d110\" = -0.5 * d107 + 0.5 * d109"
equation "\"d87\" = 0.5 * d85"
equation "\"d92\" = d87"
properties part number "COTS_GENERIC_Nema_17_25mm_Shaft_Stepper_Motor"
